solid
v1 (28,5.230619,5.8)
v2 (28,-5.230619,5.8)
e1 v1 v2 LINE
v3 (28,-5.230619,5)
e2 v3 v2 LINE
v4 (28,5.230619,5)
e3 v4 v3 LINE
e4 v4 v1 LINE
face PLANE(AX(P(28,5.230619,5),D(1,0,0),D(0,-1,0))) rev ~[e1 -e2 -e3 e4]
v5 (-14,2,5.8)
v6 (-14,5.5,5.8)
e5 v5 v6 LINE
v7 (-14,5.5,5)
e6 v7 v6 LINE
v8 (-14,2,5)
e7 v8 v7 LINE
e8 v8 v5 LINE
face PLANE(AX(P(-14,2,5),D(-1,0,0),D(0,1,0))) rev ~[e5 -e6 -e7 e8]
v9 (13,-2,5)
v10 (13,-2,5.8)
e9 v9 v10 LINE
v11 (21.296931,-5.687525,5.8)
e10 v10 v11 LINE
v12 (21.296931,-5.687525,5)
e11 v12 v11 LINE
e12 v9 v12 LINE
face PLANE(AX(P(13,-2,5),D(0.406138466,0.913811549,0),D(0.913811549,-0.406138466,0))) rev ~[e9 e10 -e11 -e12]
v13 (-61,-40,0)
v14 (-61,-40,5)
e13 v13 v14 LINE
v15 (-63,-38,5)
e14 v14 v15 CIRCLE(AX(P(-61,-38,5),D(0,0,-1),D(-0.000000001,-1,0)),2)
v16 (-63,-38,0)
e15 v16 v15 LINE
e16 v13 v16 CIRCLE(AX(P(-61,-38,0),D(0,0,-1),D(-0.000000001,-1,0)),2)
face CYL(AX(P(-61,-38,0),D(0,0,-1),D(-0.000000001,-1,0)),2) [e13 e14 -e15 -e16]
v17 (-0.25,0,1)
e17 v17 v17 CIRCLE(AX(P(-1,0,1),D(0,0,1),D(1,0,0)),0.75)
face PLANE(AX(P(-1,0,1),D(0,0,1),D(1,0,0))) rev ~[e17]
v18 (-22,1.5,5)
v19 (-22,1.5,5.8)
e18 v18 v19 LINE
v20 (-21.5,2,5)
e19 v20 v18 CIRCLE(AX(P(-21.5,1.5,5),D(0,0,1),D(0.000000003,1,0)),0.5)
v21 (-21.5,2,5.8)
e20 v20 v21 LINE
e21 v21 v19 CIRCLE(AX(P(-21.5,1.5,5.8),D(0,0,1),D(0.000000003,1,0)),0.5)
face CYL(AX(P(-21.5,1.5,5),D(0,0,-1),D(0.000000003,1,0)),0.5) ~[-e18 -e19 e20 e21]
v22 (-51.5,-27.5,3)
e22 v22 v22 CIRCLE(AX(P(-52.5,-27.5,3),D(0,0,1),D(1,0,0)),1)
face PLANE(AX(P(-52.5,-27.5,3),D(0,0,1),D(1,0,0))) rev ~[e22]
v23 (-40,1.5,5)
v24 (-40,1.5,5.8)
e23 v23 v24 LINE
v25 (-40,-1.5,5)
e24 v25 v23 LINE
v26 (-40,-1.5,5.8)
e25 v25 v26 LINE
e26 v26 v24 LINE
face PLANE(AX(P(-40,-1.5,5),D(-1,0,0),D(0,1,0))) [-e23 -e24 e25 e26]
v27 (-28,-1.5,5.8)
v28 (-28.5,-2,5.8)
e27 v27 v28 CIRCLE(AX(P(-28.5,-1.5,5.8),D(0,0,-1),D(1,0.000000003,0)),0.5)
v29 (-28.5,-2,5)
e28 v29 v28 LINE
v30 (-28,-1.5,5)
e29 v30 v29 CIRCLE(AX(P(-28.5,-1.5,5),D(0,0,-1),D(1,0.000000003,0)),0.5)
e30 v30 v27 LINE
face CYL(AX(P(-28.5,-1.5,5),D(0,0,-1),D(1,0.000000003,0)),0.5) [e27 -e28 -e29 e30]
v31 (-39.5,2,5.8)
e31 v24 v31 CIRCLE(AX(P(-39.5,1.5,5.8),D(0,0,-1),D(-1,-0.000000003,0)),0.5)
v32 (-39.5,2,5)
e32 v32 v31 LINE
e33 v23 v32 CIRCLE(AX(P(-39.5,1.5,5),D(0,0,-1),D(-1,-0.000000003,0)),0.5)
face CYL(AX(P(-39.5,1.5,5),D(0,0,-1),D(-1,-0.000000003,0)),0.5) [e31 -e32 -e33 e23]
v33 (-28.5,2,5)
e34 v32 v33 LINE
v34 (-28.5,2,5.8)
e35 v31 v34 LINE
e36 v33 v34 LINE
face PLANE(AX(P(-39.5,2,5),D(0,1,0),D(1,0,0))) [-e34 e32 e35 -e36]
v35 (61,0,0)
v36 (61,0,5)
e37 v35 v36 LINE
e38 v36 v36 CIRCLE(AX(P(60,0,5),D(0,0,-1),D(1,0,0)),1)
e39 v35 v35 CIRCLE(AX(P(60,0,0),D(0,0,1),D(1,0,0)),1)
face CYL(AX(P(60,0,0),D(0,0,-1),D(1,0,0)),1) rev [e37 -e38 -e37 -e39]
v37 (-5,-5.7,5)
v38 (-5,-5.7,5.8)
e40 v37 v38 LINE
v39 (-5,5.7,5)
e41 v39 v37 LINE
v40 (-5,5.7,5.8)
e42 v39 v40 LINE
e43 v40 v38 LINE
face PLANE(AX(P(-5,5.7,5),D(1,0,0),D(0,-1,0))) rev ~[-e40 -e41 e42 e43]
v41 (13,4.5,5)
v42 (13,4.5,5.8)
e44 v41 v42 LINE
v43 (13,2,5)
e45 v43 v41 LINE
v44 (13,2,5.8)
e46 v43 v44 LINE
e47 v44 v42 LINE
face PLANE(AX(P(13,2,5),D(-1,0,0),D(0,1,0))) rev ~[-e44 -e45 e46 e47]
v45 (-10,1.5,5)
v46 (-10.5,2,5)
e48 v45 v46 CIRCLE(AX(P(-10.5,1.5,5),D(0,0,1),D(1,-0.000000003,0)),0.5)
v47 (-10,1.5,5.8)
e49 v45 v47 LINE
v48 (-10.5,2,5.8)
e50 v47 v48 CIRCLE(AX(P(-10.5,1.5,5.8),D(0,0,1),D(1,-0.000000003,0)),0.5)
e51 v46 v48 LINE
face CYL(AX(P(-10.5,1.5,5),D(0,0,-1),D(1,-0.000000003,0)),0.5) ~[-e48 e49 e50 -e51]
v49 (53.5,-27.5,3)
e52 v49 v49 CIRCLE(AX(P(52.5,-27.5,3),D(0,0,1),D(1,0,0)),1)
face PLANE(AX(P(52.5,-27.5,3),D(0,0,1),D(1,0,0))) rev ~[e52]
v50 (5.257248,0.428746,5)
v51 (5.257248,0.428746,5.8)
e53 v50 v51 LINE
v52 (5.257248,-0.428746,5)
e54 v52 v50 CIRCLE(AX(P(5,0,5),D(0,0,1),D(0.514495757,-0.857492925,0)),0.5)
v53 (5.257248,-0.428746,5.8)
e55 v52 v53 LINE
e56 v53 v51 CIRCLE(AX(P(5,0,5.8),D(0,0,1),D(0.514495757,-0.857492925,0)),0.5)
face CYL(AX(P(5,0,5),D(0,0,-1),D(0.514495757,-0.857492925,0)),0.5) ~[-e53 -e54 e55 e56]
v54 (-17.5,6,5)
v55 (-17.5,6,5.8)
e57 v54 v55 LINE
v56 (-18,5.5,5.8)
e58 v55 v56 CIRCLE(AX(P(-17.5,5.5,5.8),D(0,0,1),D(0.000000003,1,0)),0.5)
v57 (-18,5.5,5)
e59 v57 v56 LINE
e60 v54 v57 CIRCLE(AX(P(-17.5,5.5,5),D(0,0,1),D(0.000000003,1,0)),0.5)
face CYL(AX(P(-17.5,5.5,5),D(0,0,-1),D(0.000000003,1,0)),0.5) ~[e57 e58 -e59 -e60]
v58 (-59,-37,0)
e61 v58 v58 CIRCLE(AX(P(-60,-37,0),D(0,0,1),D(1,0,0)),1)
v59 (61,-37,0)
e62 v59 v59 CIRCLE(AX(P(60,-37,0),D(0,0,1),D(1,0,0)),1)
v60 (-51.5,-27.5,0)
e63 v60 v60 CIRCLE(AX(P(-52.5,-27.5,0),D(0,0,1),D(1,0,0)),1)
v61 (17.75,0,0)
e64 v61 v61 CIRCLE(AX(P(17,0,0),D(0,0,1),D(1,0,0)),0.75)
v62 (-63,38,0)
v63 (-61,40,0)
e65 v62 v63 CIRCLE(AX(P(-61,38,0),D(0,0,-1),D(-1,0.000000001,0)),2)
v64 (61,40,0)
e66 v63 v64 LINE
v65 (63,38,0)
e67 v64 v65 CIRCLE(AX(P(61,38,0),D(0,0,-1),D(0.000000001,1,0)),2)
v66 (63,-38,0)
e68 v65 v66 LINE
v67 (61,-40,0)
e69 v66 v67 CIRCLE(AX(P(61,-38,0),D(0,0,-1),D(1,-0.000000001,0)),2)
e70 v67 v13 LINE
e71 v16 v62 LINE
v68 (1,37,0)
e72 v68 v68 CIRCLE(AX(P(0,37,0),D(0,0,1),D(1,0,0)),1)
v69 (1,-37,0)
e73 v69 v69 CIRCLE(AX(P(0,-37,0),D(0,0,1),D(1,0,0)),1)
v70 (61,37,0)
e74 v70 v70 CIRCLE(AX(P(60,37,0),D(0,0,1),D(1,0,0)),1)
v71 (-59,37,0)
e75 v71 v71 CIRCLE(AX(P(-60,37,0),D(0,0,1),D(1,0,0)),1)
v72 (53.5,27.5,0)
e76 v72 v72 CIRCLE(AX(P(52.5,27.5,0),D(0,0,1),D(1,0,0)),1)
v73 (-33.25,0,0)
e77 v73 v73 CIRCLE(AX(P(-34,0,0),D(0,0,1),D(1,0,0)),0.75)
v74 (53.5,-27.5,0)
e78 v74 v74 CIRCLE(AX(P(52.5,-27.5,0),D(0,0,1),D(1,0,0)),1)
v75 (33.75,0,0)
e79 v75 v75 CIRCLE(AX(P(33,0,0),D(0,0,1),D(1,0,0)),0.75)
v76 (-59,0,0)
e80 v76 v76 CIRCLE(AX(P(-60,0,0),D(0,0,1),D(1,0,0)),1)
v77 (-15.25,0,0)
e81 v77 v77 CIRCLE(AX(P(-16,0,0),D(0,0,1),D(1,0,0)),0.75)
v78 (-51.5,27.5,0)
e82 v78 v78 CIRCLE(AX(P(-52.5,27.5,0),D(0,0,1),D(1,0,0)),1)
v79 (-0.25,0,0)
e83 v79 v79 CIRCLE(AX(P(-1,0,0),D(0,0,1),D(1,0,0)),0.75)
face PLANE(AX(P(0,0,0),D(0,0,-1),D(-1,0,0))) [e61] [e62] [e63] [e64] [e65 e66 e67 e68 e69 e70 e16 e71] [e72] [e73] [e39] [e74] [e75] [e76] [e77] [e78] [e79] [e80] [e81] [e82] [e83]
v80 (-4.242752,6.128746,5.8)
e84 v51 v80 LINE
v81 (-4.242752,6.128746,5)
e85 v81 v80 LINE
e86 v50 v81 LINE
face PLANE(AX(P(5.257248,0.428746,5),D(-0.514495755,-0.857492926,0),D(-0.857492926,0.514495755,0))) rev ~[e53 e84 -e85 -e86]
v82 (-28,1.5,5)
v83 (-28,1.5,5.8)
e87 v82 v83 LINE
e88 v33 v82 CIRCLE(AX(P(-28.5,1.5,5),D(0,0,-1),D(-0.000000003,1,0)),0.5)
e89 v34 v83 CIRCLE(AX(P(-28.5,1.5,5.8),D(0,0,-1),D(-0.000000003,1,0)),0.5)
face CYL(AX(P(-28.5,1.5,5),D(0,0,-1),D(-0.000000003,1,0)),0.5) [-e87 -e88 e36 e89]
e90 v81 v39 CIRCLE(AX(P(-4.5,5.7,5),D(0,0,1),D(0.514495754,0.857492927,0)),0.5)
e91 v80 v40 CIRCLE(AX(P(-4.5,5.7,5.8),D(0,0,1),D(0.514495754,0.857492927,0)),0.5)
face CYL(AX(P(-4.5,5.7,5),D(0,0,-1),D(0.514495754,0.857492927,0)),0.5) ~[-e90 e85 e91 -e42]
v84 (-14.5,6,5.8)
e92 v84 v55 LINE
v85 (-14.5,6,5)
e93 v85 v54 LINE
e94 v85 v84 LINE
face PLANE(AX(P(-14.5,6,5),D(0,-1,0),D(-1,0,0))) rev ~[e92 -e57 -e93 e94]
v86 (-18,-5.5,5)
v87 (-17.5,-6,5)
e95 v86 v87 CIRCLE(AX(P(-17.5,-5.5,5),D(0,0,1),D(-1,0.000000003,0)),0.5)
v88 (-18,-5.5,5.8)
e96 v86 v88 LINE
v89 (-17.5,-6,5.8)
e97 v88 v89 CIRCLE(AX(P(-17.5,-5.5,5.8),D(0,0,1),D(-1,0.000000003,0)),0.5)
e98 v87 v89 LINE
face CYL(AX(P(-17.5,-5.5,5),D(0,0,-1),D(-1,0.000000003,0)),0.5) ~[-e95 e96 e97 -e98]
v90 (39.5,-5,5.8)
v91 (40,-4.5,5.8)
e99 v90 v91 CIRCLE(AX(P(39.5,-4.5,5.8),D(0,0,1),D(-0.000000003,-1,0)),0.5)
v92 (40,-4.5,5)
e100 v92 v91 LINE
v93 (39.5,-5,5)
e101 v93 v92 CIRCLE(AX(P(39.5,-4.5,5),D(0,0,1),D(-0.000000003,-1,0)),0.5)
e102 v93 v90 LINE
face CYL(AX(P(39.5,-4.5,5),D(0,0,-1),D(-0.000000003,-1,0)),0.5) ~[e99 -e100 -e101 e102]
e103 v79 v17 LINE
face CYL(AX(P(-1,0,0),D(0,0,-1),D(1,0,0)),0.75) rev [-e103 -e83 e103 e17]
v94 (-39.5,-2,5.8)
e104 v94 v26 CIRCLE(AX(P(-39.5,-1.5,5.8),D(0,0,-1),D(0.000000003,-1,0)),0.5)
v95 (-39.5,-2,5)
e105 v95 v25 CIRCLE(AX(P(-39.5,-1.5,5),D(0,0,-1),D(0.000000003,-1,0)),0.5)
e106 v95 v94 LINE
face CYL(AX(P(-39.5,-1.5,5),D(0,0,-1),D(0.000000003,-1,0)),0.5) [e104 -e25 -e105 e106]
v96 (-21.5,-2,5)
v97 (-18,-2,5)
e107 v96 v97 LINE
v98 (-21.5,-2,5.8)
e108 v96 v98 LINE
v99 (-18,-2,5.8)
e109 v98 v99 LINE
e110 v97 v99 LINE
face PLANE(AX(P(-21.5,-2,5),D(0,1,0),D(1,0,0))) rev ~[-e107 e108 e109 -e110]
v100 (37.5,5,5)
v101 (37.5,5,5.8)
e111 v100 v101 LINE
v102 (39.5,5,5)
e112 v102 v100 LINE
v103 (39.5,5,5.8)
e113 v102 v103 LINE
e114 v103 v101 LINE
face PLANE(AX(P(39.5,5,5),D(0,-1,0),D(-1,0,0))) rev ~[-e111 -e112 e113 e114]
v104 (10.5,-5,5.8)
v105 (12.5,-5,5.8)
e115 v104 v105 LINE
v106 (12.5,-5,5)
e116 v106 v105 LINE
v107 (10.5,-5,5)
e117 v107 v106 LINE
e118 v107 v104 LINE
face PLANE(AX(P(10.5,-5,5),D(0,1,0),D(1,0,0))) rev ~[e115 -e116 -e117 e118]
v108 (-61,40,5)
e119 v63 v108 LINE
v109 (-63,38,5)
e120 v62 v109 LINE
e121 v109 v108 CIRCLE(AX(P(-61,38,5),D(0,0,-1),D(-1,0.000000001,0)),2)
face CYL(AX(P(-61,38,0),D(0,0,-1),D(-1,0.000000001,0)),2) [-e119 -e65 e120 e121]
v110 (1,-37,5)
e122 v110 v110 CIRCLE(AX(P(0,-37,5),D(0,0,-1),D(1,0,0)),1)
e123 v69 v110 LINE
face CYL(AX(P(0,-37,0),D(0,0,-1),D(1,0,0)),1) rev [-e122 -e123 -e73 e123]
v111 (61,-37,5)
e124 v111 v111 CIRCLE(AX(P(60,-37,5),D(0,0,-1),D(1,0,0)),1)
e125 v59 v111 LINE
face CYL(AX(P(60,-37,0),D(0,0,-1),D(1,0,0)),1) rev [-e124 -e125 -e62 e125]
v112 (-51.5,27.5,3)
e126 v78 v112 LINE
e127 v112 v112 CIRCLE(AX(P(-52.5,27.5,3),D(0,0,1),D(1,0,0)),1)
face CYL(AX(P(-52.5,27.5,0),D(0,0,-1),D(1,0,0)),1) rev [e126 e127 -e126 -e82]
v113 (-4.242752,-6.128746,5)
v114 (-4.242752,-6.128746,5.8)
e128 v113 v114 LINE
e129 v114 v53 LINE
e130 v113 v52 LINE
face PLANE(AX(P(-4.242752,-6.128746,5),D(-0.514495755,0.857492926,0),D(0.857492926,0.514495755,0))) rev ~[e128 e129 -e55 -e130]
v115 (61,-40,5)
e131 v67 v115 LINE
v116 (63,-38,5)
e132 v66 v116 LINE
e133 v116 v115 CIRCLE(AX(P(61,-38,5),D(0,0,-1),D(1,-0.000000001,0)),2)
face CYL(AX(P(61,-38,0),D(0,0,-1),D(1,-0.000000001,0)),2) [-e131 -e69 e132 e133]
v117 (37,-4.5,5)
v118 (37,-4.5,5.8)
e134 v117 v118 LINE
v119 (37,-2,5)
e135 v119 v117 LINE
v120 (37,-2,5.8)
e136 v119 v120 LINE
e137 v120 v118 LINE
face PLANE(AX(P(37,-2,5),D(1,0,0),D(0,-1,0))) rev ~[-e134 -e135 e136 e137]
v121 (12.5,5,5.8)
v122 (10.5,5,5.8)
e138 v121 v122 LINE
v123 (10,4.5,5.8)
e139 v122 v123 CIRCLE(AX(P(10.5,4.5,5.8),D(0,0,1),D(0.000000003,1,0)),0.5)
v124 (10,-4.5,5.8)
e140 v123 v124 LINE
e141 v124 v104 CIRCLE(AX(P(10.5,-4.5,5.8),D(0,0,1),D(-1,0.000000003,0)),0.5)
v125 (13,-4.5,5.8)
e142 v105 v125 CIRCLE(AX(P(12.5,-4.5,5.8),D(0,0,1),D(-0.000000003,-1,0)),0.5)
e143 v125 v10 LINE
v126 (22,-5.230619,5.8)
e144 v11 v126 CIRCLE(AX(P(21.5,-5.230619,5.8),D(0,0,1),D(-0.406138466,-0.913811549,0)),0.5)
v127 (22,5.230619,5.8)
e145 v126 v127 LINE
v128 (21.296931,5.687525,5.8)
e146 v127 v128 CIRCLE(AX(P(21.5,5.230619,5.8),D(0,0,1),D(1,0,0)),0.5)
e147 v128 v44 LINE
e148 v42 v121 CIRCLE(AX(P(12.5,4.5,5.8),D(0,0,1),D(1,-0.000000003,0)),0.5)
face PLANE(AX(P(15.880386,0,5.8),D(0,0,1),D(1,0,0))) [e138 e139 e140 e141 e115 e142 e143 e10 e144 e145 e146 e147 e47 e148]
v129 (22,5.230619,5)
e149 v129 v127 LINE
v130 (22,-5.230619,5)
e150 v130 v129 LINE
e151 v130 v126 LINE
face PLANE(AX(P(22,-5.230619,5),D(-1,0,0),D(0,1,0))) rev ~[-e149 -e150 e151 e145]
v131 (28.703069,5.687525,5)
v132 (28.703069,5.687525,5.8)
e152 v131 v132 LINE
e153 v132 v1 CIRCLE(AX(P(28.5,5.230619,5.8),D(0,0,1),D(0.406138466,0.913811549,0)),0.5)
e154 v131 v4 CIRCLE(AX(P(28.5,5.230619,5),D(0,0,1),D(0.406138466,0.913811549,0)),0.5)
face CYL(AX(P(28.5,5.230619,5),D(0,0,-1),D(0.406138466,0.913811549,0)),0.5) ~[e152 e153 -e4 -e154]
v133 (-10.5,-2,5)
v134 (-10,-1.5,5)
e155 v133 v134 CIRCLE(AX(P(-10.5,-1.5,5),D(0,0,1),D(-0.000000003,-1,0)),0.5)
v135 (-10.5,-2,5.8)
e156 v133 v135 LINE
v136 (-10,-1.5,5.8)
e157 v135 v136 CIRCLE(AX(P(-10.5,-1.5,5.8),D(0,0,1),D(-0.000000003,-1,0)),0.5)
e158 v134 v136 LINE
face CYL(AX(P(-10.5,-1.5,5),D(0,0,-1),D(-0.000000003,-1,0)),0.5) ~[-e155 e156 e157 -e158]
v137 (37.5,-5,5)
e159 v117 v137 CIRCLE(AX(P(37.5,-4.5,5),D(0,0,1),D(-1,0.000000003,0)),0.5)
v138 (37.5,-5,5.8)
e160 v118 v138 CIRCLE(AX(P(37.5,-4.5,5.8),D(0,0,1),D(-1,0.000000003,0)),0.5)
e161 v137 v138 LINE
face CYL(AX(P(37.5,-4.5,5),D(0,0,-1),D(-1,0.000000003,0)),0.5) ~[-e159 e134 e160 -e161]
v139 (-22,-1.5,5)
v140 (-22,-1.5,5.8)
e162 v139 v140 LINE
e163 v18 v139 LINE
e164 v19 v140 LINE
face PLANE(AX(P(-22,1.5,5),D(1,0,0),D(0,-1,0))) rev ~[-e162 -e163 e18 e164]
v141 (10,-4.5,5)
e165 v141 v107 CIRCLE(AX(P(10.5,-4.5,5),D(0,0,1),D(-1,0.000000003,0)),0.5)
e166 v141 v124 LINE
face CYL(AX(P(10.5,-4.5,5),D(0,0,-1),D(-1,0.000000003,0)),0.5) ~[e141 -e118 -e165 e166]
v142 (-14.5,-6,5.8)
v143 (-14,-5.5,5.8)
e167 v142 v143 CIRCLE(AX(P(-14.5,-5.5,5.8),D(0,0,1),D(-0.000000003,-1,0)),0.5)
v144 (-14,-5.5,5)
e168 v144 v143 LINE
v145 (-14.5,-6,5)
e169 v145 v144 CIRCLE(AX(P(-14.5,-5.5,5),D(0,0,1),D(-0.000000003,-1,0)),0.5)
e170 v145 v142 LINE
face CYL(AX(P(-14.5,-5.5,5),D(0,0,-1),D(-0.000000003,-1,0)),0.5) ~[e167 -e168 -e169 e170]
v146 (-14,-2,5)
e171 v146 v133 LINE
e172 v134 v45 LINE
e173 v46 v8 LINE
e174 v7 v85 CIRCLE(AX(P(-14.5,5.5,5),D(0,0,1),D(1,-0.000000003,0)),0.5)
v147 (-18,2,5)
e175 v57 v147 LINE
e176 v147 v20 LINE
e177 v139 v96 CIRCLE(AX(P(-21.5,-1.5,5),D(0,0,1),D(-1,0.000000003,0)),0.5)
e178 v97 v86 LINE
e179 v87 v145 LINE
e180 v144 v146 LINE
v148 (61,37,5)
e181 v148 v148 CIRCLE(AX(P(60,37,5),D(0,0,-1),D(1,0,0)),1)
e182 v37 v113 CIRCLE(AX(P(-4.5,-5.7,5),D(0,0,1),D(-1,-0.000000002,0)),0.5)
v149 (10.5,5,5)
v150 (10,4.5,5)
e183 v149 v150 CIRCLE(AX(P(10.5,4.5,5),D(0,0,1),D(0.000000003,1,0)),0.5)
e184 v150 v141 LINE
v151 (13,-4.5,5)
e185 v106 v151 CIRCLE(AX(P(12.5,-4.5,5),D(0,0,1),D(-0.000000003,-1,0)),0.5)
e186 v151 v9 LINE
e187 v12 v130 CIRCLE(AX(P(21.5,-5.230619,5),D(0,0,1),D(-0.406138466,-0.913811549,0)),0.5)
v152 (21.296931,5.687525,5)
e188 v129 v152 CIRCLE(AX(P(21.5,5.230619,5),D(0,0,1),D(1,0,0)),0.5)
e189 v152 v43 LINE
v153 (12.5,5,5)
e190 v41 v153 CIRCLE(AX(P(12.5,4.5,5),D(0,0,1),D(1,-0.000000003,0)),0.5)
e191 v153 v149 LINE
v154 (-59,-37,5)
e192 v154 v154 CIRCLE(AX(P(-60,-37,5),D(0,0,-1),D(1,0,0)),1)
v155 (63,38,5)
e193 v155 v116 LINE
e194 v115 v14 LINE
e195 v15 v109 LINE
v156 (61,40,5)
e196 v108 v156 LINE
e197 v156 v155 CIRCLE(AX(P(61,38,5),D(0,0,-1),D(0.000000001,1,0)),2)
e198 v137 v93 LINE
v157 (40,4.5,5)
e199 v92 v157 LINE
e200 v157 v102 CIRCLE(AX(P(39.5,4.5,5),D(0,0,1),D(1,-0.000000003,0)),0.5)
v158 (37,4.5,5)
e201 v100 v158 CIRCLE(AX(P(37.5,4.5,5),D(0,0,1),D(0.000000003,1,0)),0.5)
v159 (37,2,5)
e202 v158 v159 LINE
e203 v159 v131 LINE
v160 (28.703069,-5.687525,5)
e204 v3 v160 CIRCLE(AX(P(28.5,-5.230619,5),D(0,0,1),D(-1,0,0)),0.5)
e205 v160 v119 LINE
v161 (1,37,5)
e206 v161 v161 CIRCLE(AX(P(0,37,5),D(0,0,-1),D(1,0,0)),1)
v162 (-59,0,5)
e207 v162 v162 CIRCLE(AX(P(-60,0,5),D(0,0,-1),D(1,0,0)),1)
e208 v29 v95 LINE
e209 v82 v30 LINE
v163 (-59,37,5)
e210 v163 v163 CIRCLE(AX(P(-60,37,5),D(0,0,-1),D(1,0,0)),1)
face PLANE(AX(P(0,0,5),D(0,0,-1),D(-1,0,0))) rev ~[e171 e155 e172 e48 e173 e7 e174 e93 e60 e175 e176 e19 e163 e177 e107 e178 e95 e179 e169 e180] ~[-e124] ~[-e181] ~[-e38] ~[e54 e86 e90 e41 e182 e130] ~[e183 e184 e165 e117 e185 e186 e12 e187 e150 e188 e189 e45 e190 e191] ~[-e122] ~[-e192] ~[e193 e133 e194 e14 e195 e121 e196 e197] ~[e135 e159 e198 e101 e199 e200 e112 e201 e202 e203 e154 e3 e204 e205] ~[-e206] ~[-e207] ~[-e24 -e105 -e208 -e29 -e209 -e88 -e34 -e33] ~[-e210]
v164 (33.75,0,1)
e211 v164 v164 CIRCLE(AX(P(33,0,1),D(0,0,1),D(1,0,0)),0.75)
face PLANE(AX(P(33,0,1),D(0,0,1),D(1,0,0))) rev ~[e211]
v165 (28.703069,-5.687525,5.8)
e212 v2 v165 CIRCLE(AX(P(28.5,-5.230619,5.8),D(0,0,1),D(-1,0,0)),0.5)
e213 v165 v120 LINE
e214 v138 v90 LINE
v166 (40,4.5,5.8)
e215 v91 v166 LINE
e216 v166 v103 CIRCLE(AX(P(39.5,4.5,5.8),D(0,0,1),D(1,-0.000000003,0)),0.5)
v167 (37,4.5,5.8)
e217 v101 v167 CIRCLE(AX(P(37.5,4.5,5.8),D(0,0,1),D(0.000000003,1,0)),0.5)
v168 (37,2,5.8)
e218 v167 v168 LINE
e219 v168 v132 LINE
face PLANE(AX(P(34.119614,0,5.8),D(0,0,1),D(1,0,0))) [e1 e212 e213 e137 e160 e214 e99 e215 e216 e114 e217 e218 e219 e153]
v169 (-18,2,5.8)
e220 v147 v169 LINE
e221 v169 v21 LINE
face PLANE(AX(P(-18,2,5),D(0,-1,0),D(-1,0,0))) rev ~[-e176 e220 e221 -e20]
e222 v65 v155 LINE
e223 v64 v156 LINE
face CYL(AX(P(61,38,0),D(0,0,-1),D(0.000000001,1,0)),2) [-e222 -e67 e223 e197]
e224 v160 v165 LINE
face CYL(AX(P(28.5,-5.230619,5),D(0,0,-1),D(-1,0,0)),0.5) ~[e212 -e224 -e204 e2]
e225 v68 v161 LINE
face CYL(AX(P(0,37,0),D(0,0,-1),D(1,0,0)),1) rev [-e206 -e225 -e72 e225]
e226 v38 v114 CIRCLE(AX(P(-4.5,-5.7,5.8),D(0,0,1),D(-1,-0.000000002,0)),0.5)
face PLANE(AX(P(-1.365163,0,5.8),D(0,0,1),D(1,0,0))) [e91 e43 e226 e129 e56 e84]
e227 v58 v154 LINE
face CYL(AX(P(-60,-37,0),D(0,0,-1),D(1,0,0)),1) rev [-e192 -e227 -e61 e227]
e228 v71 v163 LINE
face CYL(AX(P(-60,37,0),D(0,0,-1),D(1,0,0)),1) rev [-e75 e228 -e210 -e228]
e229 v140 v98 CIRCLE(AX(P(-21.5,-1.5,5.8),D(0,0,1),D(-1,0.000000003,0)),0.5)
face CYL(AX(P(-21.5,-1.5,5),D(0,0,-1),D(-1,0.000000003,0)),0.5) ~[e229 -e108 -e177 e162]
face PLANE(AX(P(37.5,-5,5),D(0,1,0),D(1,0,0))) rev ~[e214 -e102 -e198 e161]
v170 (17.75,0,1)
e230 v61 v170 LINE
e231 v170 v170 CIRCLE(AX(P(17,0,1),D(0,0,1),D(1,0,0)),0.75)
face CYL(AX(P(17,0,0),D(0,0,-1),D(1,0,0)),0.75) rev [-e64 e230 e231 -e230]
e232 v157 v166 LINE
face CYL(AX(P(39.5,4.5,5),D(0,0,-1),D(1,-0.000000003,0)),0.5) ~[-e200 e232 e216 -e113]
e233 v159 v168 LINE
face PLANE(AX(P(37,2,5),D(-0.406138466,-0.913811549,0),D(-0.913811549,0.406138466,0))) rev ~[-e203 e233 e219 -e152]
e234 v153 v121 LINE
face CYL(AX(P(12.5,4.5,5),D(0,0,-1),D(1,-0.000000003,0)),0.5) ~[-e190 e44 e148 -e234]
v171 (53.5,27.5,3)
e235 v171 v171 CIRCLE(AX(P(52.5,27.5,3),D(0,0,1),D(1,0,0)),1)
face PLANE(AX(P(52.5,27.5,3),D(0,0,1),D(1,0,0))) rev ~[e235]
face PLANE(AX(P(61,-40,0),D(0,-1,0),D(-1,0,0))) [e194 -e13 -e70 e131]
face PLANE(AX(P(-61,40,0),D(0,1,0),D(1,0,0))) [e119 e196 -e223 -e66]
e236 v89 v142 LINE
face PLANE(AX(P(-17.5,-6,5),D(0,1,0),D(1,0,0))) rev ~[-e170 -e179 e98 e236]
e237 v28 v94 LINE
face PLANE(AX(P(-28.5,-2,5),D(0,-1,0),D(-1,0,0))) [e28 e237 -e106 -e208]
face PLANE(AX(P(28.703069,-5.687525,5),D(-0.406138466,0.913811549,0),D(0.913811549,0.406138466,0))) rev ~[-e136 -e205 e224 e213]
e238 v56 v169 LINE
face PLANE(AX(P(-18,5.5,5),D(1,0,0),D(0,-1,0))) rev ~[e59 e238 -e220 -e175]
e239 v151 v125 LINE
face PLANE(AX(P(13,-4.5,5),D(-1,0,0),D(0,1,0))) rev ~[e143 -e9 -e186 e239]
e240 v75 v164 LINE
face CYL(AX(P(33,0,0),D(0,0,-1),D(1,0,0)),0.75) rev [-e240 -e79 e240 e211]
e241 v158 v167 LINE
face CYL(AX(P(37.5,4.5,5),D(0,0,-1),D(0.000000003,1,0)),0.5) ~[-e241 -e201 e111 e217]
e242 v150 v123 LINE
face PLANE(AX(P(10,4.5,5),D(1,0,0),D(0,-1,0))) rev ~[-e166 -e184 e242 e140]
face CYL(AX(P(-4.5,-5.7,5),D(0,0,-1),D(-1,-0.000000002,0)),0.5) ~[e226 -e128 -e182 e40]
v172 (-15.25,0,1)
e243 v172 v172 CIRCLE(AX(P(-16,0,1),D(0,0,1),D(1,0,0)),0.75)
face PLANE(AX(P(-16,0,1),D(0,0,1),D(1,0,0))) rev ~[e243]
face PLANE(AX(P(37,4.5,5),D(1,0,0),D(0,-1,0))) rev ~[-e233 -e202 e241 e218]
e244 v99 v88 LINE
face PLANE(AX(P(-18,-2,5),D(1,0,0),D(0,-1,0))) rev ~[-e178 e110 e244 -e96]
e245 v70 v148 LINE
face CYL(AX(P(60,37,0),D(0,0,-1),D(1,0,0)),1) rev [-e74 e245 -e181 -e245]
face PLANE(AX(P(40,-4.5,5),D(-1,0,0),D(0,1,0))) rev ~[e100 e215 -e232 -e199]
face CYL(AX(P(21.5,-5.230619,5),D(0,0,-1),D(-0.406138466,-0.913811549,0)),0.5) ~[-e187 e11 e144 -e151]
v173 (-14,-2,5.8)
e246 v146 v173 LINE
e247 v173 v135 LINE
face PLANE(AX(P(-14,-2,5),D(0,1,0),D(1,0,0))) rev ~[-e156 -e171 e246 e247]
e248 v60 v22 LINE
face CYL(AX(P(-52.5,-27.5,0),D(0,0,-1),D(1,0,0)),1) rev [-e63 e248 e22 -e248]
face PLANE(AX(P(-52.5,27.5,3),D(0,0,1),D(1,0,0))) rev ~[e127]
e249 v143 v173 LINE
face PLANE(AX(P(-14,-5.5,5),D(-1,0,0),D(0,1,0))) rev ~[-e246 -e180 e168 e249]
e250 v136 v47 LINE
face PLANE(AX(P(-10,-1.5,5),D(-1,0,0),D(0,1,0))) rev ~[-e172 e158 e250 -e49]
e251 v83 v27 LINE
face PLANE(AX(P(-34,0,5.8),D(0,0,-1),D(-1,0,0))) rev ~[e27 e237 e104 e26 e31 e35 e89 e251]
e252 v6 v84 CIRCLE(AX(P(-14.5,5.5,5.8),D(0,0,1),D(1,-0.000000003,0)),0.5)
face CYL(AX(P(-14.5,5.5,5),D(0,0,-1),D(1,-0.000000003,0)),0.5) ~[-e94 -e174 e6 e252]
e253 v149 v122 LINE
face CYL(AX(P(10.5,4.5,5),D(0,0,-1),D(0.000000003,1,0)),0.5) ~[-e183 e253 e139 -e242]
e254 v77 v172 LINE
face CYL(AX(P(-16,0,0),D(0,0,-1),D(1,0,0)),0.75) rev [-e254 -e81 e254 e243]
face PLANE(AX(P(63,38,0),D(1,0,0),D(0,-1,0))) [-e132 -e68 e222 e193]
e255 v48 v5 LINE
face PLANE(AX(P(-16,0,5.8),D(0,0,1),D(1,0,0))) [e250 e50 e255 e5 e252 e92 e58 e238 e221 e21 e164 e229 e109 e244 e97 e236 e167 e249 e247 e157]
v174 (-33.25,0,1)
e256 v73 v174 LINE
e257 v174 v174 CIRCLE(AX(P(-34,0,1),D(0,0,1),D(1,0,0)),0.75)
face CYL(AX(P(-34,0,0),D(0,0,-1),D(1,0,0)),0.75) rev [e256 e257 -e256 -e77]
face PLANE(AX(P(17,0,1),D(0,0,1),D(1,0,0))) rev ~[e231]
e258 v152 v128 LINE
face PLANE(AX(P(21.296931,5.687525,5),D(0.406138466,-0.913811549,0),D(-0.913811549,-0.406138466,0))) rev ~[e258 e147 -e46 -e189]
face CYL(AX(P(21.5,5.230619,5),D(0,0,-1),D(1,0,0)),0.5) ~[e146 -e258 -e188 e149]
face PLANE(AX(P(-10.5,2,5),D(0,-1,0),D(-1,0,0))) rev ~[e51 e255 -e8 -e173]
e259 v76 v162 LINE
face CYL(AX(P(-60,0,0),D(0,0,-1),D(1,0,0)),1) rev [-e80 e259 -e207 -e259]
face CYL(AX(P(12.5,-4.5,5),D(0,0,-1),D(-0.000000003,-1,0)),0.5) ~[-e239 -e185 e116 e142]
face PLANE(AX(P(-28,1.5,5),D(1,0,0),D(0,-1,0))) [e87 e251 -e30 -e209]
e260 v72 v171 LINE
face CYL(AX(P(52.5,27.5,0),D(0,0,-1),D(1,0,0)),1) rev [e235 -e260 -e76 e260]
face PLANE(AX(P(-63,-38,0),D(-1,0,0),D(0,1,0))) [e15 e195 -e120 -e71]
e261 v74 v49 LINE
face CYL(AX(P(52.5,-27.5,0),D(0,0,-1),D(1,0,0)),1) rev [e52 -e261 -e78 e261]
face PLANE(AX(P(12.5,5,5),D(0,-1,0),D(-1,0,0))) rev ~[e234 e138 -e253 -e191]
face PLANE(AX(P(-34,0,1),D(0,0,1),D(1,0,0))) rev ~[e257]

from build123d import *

# Parameters (mm, degrees)
BOSS_EXTRUDE1_DEPTH = 5
BOSS_EXTRUDE2_DEPTH = 0.8
SKETCH22_R          = 0.75
CUT_EXTRUDE1_DEPTH  = 1
SKETCH18_R          = 1
CUT_EXTRUDE2_DEPTH  = 35
SKETCH15_R          = 1
CUT_EXTRUDE3_DEPTH  = 3


with BuildPart() as part:
    # Sketch1 → Boss-Extrude1 (new body)
    with BuildSketch(Plane.XY):
        with BuildLine():
            Line((-61, 40), (61, 40))
            ThreePointArc((61, 40), (62.414213562, 39.414213562), (63, 38))
            Line((63, 38), (63, -38))
            ThreePointArc((63, -38), (62.414213562, -39.414213562), (61, -40))
            Line((61, -40), (-61, -40))
            ThreePointArc((-61, -40), (-62.414213562, -39.414213562), (-63, -38))
            Line((-63, -38), (-63, 38))
            ThreePointArc((-63, 38), (-62.414213562, 39.414213562), (-61, 40))
        make_face()
    extrude(amount=BOSS_EXTRUDE1_DEPTH)

    # Sketch19 → Boss-Extrude2 (add)
    with BuildSketch(Plane.XY.offset(5)):
        with BuildLine():
            Line((-5, 5.7), (-5, -5.7))
            ThreePointArc((-5, -5.7), (-4.746349407, -6.135099953), (-4.242752122, -6.128746463))
            Line((-4.242752122, -6.128746463), (5.257247878, -0.428746463))
            ThreePointArc((5.257247878, -0.428746463), (5.5, 0), (5.257247878, 0.428746463))
            Line((5.257247878, 0.428746463), (-4.242752122, 6.128746463))
            ThreePointArc((-4.242752122, 6.128746463), (-4.746349407, 6.135099953), (-5, 5.7))
        make_face()
        with BuildLine():
            Line((-10, -1.5), (-10, 1.5))
            ThreePointArc((-10, 1.5), (-10.146446609, 1.853553391), (-10.5, 2))
            Line((-10.5, 2), (-14, 2))
            Line((-14, 2), (-14, 5.5))
            ThreePointArc((-14, 5.5), (-14.146446609, 5.853553391), (-14.5, 6))
            Line((-14.5, 6), (-17.5, 6))
            ThreePointArc((-17.5, 6), (-17.853553391, 5.853553391), (-18, 5.5))
            Line((-18, 5.5), (-18, 2))
            Line((-18, 2), (-21.5, 2))
            ThreePointArc((-21.5, 2), (-21.853553391, 1.853553391), (-22, 1.5))
            Line((-22, 1.5), (-22, -1.5))
            ThreePointArc((-22, -1.5), (-21.853553391, -1.853553391), (-21.5, -2))
            Line((-21.5, -2), (-18, -2))
            Line((-18, -2), (-18, -5.5))
            ThreePointArc((-18, -5.5), (-17.853553391, -5.853553391), (-17.5, -6))
            Line((-17.5, -6), (-14.5, -6))
            ThreePointArc((-14.5, -6), (-14.146446609, -5.853553391), (-14, -5.5))
            Line((-14, -5.5), (-14, -2))
            Line((-14, -2), (-10.5, -2))
            ThreePointArc((-10.5, -2), (-10.146446609, -1.853553391), (-10, -1.5))
        make_face()
        with BuildLine():
            Line((-28, 1.5), (-28, -1.5))
            ThreePointArc((-28, -1.5), (-28.146446609, -1.853553391), (-28.5, -2))
            Line((-28.5, -2), (-39.5, -2))
            ThreePointArc((-39.5, -2), (-39.853553391, -1.853553391), (-40, -1.5))
            Line((-40, -1.5), (-40, 1.5))
            ThreePointArc((-40, 1.5), (-39.853553391, 1.853553391), (-39.5, 2))
            Line((-39.5, 2), (-28.5, 2))
            ThreePointArc((-28.5, 2), (-28.146446609, 1.853553391), (-28, 1.5))
        make_face()
        with BuildLine():
            Line((10, 4.5), (10, -4.5))
            ThreePointArc((10, -4.5), (10.146446609, -4.853553391), (10.5, -5))
            Line((10.5, -5), (12.5, -5))
            ThreePointArc((12.5, -5), (12.853553391, -4.853553391), (13, -4.5))
            Line((13, -4.5), (13, -2))
            Line((13, -2), (21.296930767, -5.687524785))
            ThreePointArc((21.296930767, -5.687524785), (21.77245677, -5.64986513), (22, -5.230619011))
            Line((22, -5.230619011), (22, 5.230619011))
            ThreePointArc((22, 5.230619011), (21.77245677, 5.64986513), (21.296930767, 5.687524785))
            Line((21.296930767, 5.687524785), (13, 2))
            Line((13, 2), (13, 4.5))
            ThreePointArc((13, 4.5), (12.853553391, 4.853553391), (12.5, 5))
            Line((12.5, 5), (10.5, 5))
            ThreePointArc((10.5, 5), (10.146446609, 4.853553391), (10, 4.5))
        make_face()
        with BuildLine():
            Line((28, 5.230619011), (28, -5.230619011))
            ThreePointArc((28, -5.230619011), (28.22754323, -5.64986513), (28.703069233, -5.687524785))
            Line((28.703069233, -5.687524785), (37, -2))
            Line((37, -2), (37, -4.5))
            ThreePointArc((37, -4.5), (37.146446609, -4.853553391), (37.5, -5))
            Line((37.5, -5), (39.5, -5))
            ThreePointArc((39.5, -5), (39.853553391, -4.853553391), (40, -4.5))
            Line((40, -4.5), (40, 4.5))
            ThreePointArc((40, 4.5), (39.853553391, 4.853553391), (39.5, 5))
            Line((39.5, 5), (37.5, 5))
            ThreePointArc((37.5, 5), (37.146446609, 4.853553391), (37, 4.5))
            Line((37, 4.5), (37, 2))
            Line((37, 2), (28.703069233, 5.687524785))
            ThreePointArc((28.703069233, 5.687524785), (28.22754323, 5.64986513), (28, 5.230619011))
        make_face()
    extrude(amount=BOSS_EXTRUDE2_DEPTH)

    # Sketch22 → Cut-Extrude1 (cut)
    with BuildSketch(Plane.XY):
        with Locations((-34, 0)):
            Circle(SKETCH22_R)
        with Locations((-16, 0)):
            Circle(SKETCH22_R)
        with Locations((-1, 0)):
            Circle(SKETCH22_R)
        with Locations((17, 0)):
            Circle(SKETCH22_R)
        with Locations((33, 0)):
            Circle(SKETCH22_R)
    extrude(amount=CUT_EXTRUDE1_DEPTH, mode=Mode.SUBTRACT)

    # Sketch18 → Cut-Extrude2 (cut)
    with BuildSketch(Plane.XY):
        with Locations((60, 37)):
            Circle(SKETCH18_R)
        with Locations((60, -37)):
            Circle(SKETCH18_R)
        with Locations((-60, -37)):
            Circle(SKETCH18_R)
        with Locations((-60, 37)):
            Circle(SKETCH18_R)
        with Locations((0, 37)):
            Circle(SKETCH18_R)
        with Locations((0, -37)):
            Circle(SKETCH18_R)
        with Locations((-60, 0)):
            Circle(SKETCH18_R)
        with Locations((60, 0)):
            Circle(SKETCH18_R)
    extrude(amount=CUT_EXTRUDE2_DEPTH, mode=Mode.SUBTRACT)

    # Sketch15 → Cut-Extrude3 (cut)
    with BuildSketch(Plane.XY):
        with Locations((-52.5, -27.5)):
            Circle(SKETCH15_R)
        with Locations((-52.5, 27.5)):
            Circle(SKETCH15_R)
        with Locations((52.5, -27.5)):
            Circle(SKETCH15_R)
        with Locations((52.5, 27.5)):
            Circle(SKETCH15_R)
    extrude(amount=CUT_EXTRUDE3_DEPTH, mode=Mode.SUBTRACT)


solid = part.part
